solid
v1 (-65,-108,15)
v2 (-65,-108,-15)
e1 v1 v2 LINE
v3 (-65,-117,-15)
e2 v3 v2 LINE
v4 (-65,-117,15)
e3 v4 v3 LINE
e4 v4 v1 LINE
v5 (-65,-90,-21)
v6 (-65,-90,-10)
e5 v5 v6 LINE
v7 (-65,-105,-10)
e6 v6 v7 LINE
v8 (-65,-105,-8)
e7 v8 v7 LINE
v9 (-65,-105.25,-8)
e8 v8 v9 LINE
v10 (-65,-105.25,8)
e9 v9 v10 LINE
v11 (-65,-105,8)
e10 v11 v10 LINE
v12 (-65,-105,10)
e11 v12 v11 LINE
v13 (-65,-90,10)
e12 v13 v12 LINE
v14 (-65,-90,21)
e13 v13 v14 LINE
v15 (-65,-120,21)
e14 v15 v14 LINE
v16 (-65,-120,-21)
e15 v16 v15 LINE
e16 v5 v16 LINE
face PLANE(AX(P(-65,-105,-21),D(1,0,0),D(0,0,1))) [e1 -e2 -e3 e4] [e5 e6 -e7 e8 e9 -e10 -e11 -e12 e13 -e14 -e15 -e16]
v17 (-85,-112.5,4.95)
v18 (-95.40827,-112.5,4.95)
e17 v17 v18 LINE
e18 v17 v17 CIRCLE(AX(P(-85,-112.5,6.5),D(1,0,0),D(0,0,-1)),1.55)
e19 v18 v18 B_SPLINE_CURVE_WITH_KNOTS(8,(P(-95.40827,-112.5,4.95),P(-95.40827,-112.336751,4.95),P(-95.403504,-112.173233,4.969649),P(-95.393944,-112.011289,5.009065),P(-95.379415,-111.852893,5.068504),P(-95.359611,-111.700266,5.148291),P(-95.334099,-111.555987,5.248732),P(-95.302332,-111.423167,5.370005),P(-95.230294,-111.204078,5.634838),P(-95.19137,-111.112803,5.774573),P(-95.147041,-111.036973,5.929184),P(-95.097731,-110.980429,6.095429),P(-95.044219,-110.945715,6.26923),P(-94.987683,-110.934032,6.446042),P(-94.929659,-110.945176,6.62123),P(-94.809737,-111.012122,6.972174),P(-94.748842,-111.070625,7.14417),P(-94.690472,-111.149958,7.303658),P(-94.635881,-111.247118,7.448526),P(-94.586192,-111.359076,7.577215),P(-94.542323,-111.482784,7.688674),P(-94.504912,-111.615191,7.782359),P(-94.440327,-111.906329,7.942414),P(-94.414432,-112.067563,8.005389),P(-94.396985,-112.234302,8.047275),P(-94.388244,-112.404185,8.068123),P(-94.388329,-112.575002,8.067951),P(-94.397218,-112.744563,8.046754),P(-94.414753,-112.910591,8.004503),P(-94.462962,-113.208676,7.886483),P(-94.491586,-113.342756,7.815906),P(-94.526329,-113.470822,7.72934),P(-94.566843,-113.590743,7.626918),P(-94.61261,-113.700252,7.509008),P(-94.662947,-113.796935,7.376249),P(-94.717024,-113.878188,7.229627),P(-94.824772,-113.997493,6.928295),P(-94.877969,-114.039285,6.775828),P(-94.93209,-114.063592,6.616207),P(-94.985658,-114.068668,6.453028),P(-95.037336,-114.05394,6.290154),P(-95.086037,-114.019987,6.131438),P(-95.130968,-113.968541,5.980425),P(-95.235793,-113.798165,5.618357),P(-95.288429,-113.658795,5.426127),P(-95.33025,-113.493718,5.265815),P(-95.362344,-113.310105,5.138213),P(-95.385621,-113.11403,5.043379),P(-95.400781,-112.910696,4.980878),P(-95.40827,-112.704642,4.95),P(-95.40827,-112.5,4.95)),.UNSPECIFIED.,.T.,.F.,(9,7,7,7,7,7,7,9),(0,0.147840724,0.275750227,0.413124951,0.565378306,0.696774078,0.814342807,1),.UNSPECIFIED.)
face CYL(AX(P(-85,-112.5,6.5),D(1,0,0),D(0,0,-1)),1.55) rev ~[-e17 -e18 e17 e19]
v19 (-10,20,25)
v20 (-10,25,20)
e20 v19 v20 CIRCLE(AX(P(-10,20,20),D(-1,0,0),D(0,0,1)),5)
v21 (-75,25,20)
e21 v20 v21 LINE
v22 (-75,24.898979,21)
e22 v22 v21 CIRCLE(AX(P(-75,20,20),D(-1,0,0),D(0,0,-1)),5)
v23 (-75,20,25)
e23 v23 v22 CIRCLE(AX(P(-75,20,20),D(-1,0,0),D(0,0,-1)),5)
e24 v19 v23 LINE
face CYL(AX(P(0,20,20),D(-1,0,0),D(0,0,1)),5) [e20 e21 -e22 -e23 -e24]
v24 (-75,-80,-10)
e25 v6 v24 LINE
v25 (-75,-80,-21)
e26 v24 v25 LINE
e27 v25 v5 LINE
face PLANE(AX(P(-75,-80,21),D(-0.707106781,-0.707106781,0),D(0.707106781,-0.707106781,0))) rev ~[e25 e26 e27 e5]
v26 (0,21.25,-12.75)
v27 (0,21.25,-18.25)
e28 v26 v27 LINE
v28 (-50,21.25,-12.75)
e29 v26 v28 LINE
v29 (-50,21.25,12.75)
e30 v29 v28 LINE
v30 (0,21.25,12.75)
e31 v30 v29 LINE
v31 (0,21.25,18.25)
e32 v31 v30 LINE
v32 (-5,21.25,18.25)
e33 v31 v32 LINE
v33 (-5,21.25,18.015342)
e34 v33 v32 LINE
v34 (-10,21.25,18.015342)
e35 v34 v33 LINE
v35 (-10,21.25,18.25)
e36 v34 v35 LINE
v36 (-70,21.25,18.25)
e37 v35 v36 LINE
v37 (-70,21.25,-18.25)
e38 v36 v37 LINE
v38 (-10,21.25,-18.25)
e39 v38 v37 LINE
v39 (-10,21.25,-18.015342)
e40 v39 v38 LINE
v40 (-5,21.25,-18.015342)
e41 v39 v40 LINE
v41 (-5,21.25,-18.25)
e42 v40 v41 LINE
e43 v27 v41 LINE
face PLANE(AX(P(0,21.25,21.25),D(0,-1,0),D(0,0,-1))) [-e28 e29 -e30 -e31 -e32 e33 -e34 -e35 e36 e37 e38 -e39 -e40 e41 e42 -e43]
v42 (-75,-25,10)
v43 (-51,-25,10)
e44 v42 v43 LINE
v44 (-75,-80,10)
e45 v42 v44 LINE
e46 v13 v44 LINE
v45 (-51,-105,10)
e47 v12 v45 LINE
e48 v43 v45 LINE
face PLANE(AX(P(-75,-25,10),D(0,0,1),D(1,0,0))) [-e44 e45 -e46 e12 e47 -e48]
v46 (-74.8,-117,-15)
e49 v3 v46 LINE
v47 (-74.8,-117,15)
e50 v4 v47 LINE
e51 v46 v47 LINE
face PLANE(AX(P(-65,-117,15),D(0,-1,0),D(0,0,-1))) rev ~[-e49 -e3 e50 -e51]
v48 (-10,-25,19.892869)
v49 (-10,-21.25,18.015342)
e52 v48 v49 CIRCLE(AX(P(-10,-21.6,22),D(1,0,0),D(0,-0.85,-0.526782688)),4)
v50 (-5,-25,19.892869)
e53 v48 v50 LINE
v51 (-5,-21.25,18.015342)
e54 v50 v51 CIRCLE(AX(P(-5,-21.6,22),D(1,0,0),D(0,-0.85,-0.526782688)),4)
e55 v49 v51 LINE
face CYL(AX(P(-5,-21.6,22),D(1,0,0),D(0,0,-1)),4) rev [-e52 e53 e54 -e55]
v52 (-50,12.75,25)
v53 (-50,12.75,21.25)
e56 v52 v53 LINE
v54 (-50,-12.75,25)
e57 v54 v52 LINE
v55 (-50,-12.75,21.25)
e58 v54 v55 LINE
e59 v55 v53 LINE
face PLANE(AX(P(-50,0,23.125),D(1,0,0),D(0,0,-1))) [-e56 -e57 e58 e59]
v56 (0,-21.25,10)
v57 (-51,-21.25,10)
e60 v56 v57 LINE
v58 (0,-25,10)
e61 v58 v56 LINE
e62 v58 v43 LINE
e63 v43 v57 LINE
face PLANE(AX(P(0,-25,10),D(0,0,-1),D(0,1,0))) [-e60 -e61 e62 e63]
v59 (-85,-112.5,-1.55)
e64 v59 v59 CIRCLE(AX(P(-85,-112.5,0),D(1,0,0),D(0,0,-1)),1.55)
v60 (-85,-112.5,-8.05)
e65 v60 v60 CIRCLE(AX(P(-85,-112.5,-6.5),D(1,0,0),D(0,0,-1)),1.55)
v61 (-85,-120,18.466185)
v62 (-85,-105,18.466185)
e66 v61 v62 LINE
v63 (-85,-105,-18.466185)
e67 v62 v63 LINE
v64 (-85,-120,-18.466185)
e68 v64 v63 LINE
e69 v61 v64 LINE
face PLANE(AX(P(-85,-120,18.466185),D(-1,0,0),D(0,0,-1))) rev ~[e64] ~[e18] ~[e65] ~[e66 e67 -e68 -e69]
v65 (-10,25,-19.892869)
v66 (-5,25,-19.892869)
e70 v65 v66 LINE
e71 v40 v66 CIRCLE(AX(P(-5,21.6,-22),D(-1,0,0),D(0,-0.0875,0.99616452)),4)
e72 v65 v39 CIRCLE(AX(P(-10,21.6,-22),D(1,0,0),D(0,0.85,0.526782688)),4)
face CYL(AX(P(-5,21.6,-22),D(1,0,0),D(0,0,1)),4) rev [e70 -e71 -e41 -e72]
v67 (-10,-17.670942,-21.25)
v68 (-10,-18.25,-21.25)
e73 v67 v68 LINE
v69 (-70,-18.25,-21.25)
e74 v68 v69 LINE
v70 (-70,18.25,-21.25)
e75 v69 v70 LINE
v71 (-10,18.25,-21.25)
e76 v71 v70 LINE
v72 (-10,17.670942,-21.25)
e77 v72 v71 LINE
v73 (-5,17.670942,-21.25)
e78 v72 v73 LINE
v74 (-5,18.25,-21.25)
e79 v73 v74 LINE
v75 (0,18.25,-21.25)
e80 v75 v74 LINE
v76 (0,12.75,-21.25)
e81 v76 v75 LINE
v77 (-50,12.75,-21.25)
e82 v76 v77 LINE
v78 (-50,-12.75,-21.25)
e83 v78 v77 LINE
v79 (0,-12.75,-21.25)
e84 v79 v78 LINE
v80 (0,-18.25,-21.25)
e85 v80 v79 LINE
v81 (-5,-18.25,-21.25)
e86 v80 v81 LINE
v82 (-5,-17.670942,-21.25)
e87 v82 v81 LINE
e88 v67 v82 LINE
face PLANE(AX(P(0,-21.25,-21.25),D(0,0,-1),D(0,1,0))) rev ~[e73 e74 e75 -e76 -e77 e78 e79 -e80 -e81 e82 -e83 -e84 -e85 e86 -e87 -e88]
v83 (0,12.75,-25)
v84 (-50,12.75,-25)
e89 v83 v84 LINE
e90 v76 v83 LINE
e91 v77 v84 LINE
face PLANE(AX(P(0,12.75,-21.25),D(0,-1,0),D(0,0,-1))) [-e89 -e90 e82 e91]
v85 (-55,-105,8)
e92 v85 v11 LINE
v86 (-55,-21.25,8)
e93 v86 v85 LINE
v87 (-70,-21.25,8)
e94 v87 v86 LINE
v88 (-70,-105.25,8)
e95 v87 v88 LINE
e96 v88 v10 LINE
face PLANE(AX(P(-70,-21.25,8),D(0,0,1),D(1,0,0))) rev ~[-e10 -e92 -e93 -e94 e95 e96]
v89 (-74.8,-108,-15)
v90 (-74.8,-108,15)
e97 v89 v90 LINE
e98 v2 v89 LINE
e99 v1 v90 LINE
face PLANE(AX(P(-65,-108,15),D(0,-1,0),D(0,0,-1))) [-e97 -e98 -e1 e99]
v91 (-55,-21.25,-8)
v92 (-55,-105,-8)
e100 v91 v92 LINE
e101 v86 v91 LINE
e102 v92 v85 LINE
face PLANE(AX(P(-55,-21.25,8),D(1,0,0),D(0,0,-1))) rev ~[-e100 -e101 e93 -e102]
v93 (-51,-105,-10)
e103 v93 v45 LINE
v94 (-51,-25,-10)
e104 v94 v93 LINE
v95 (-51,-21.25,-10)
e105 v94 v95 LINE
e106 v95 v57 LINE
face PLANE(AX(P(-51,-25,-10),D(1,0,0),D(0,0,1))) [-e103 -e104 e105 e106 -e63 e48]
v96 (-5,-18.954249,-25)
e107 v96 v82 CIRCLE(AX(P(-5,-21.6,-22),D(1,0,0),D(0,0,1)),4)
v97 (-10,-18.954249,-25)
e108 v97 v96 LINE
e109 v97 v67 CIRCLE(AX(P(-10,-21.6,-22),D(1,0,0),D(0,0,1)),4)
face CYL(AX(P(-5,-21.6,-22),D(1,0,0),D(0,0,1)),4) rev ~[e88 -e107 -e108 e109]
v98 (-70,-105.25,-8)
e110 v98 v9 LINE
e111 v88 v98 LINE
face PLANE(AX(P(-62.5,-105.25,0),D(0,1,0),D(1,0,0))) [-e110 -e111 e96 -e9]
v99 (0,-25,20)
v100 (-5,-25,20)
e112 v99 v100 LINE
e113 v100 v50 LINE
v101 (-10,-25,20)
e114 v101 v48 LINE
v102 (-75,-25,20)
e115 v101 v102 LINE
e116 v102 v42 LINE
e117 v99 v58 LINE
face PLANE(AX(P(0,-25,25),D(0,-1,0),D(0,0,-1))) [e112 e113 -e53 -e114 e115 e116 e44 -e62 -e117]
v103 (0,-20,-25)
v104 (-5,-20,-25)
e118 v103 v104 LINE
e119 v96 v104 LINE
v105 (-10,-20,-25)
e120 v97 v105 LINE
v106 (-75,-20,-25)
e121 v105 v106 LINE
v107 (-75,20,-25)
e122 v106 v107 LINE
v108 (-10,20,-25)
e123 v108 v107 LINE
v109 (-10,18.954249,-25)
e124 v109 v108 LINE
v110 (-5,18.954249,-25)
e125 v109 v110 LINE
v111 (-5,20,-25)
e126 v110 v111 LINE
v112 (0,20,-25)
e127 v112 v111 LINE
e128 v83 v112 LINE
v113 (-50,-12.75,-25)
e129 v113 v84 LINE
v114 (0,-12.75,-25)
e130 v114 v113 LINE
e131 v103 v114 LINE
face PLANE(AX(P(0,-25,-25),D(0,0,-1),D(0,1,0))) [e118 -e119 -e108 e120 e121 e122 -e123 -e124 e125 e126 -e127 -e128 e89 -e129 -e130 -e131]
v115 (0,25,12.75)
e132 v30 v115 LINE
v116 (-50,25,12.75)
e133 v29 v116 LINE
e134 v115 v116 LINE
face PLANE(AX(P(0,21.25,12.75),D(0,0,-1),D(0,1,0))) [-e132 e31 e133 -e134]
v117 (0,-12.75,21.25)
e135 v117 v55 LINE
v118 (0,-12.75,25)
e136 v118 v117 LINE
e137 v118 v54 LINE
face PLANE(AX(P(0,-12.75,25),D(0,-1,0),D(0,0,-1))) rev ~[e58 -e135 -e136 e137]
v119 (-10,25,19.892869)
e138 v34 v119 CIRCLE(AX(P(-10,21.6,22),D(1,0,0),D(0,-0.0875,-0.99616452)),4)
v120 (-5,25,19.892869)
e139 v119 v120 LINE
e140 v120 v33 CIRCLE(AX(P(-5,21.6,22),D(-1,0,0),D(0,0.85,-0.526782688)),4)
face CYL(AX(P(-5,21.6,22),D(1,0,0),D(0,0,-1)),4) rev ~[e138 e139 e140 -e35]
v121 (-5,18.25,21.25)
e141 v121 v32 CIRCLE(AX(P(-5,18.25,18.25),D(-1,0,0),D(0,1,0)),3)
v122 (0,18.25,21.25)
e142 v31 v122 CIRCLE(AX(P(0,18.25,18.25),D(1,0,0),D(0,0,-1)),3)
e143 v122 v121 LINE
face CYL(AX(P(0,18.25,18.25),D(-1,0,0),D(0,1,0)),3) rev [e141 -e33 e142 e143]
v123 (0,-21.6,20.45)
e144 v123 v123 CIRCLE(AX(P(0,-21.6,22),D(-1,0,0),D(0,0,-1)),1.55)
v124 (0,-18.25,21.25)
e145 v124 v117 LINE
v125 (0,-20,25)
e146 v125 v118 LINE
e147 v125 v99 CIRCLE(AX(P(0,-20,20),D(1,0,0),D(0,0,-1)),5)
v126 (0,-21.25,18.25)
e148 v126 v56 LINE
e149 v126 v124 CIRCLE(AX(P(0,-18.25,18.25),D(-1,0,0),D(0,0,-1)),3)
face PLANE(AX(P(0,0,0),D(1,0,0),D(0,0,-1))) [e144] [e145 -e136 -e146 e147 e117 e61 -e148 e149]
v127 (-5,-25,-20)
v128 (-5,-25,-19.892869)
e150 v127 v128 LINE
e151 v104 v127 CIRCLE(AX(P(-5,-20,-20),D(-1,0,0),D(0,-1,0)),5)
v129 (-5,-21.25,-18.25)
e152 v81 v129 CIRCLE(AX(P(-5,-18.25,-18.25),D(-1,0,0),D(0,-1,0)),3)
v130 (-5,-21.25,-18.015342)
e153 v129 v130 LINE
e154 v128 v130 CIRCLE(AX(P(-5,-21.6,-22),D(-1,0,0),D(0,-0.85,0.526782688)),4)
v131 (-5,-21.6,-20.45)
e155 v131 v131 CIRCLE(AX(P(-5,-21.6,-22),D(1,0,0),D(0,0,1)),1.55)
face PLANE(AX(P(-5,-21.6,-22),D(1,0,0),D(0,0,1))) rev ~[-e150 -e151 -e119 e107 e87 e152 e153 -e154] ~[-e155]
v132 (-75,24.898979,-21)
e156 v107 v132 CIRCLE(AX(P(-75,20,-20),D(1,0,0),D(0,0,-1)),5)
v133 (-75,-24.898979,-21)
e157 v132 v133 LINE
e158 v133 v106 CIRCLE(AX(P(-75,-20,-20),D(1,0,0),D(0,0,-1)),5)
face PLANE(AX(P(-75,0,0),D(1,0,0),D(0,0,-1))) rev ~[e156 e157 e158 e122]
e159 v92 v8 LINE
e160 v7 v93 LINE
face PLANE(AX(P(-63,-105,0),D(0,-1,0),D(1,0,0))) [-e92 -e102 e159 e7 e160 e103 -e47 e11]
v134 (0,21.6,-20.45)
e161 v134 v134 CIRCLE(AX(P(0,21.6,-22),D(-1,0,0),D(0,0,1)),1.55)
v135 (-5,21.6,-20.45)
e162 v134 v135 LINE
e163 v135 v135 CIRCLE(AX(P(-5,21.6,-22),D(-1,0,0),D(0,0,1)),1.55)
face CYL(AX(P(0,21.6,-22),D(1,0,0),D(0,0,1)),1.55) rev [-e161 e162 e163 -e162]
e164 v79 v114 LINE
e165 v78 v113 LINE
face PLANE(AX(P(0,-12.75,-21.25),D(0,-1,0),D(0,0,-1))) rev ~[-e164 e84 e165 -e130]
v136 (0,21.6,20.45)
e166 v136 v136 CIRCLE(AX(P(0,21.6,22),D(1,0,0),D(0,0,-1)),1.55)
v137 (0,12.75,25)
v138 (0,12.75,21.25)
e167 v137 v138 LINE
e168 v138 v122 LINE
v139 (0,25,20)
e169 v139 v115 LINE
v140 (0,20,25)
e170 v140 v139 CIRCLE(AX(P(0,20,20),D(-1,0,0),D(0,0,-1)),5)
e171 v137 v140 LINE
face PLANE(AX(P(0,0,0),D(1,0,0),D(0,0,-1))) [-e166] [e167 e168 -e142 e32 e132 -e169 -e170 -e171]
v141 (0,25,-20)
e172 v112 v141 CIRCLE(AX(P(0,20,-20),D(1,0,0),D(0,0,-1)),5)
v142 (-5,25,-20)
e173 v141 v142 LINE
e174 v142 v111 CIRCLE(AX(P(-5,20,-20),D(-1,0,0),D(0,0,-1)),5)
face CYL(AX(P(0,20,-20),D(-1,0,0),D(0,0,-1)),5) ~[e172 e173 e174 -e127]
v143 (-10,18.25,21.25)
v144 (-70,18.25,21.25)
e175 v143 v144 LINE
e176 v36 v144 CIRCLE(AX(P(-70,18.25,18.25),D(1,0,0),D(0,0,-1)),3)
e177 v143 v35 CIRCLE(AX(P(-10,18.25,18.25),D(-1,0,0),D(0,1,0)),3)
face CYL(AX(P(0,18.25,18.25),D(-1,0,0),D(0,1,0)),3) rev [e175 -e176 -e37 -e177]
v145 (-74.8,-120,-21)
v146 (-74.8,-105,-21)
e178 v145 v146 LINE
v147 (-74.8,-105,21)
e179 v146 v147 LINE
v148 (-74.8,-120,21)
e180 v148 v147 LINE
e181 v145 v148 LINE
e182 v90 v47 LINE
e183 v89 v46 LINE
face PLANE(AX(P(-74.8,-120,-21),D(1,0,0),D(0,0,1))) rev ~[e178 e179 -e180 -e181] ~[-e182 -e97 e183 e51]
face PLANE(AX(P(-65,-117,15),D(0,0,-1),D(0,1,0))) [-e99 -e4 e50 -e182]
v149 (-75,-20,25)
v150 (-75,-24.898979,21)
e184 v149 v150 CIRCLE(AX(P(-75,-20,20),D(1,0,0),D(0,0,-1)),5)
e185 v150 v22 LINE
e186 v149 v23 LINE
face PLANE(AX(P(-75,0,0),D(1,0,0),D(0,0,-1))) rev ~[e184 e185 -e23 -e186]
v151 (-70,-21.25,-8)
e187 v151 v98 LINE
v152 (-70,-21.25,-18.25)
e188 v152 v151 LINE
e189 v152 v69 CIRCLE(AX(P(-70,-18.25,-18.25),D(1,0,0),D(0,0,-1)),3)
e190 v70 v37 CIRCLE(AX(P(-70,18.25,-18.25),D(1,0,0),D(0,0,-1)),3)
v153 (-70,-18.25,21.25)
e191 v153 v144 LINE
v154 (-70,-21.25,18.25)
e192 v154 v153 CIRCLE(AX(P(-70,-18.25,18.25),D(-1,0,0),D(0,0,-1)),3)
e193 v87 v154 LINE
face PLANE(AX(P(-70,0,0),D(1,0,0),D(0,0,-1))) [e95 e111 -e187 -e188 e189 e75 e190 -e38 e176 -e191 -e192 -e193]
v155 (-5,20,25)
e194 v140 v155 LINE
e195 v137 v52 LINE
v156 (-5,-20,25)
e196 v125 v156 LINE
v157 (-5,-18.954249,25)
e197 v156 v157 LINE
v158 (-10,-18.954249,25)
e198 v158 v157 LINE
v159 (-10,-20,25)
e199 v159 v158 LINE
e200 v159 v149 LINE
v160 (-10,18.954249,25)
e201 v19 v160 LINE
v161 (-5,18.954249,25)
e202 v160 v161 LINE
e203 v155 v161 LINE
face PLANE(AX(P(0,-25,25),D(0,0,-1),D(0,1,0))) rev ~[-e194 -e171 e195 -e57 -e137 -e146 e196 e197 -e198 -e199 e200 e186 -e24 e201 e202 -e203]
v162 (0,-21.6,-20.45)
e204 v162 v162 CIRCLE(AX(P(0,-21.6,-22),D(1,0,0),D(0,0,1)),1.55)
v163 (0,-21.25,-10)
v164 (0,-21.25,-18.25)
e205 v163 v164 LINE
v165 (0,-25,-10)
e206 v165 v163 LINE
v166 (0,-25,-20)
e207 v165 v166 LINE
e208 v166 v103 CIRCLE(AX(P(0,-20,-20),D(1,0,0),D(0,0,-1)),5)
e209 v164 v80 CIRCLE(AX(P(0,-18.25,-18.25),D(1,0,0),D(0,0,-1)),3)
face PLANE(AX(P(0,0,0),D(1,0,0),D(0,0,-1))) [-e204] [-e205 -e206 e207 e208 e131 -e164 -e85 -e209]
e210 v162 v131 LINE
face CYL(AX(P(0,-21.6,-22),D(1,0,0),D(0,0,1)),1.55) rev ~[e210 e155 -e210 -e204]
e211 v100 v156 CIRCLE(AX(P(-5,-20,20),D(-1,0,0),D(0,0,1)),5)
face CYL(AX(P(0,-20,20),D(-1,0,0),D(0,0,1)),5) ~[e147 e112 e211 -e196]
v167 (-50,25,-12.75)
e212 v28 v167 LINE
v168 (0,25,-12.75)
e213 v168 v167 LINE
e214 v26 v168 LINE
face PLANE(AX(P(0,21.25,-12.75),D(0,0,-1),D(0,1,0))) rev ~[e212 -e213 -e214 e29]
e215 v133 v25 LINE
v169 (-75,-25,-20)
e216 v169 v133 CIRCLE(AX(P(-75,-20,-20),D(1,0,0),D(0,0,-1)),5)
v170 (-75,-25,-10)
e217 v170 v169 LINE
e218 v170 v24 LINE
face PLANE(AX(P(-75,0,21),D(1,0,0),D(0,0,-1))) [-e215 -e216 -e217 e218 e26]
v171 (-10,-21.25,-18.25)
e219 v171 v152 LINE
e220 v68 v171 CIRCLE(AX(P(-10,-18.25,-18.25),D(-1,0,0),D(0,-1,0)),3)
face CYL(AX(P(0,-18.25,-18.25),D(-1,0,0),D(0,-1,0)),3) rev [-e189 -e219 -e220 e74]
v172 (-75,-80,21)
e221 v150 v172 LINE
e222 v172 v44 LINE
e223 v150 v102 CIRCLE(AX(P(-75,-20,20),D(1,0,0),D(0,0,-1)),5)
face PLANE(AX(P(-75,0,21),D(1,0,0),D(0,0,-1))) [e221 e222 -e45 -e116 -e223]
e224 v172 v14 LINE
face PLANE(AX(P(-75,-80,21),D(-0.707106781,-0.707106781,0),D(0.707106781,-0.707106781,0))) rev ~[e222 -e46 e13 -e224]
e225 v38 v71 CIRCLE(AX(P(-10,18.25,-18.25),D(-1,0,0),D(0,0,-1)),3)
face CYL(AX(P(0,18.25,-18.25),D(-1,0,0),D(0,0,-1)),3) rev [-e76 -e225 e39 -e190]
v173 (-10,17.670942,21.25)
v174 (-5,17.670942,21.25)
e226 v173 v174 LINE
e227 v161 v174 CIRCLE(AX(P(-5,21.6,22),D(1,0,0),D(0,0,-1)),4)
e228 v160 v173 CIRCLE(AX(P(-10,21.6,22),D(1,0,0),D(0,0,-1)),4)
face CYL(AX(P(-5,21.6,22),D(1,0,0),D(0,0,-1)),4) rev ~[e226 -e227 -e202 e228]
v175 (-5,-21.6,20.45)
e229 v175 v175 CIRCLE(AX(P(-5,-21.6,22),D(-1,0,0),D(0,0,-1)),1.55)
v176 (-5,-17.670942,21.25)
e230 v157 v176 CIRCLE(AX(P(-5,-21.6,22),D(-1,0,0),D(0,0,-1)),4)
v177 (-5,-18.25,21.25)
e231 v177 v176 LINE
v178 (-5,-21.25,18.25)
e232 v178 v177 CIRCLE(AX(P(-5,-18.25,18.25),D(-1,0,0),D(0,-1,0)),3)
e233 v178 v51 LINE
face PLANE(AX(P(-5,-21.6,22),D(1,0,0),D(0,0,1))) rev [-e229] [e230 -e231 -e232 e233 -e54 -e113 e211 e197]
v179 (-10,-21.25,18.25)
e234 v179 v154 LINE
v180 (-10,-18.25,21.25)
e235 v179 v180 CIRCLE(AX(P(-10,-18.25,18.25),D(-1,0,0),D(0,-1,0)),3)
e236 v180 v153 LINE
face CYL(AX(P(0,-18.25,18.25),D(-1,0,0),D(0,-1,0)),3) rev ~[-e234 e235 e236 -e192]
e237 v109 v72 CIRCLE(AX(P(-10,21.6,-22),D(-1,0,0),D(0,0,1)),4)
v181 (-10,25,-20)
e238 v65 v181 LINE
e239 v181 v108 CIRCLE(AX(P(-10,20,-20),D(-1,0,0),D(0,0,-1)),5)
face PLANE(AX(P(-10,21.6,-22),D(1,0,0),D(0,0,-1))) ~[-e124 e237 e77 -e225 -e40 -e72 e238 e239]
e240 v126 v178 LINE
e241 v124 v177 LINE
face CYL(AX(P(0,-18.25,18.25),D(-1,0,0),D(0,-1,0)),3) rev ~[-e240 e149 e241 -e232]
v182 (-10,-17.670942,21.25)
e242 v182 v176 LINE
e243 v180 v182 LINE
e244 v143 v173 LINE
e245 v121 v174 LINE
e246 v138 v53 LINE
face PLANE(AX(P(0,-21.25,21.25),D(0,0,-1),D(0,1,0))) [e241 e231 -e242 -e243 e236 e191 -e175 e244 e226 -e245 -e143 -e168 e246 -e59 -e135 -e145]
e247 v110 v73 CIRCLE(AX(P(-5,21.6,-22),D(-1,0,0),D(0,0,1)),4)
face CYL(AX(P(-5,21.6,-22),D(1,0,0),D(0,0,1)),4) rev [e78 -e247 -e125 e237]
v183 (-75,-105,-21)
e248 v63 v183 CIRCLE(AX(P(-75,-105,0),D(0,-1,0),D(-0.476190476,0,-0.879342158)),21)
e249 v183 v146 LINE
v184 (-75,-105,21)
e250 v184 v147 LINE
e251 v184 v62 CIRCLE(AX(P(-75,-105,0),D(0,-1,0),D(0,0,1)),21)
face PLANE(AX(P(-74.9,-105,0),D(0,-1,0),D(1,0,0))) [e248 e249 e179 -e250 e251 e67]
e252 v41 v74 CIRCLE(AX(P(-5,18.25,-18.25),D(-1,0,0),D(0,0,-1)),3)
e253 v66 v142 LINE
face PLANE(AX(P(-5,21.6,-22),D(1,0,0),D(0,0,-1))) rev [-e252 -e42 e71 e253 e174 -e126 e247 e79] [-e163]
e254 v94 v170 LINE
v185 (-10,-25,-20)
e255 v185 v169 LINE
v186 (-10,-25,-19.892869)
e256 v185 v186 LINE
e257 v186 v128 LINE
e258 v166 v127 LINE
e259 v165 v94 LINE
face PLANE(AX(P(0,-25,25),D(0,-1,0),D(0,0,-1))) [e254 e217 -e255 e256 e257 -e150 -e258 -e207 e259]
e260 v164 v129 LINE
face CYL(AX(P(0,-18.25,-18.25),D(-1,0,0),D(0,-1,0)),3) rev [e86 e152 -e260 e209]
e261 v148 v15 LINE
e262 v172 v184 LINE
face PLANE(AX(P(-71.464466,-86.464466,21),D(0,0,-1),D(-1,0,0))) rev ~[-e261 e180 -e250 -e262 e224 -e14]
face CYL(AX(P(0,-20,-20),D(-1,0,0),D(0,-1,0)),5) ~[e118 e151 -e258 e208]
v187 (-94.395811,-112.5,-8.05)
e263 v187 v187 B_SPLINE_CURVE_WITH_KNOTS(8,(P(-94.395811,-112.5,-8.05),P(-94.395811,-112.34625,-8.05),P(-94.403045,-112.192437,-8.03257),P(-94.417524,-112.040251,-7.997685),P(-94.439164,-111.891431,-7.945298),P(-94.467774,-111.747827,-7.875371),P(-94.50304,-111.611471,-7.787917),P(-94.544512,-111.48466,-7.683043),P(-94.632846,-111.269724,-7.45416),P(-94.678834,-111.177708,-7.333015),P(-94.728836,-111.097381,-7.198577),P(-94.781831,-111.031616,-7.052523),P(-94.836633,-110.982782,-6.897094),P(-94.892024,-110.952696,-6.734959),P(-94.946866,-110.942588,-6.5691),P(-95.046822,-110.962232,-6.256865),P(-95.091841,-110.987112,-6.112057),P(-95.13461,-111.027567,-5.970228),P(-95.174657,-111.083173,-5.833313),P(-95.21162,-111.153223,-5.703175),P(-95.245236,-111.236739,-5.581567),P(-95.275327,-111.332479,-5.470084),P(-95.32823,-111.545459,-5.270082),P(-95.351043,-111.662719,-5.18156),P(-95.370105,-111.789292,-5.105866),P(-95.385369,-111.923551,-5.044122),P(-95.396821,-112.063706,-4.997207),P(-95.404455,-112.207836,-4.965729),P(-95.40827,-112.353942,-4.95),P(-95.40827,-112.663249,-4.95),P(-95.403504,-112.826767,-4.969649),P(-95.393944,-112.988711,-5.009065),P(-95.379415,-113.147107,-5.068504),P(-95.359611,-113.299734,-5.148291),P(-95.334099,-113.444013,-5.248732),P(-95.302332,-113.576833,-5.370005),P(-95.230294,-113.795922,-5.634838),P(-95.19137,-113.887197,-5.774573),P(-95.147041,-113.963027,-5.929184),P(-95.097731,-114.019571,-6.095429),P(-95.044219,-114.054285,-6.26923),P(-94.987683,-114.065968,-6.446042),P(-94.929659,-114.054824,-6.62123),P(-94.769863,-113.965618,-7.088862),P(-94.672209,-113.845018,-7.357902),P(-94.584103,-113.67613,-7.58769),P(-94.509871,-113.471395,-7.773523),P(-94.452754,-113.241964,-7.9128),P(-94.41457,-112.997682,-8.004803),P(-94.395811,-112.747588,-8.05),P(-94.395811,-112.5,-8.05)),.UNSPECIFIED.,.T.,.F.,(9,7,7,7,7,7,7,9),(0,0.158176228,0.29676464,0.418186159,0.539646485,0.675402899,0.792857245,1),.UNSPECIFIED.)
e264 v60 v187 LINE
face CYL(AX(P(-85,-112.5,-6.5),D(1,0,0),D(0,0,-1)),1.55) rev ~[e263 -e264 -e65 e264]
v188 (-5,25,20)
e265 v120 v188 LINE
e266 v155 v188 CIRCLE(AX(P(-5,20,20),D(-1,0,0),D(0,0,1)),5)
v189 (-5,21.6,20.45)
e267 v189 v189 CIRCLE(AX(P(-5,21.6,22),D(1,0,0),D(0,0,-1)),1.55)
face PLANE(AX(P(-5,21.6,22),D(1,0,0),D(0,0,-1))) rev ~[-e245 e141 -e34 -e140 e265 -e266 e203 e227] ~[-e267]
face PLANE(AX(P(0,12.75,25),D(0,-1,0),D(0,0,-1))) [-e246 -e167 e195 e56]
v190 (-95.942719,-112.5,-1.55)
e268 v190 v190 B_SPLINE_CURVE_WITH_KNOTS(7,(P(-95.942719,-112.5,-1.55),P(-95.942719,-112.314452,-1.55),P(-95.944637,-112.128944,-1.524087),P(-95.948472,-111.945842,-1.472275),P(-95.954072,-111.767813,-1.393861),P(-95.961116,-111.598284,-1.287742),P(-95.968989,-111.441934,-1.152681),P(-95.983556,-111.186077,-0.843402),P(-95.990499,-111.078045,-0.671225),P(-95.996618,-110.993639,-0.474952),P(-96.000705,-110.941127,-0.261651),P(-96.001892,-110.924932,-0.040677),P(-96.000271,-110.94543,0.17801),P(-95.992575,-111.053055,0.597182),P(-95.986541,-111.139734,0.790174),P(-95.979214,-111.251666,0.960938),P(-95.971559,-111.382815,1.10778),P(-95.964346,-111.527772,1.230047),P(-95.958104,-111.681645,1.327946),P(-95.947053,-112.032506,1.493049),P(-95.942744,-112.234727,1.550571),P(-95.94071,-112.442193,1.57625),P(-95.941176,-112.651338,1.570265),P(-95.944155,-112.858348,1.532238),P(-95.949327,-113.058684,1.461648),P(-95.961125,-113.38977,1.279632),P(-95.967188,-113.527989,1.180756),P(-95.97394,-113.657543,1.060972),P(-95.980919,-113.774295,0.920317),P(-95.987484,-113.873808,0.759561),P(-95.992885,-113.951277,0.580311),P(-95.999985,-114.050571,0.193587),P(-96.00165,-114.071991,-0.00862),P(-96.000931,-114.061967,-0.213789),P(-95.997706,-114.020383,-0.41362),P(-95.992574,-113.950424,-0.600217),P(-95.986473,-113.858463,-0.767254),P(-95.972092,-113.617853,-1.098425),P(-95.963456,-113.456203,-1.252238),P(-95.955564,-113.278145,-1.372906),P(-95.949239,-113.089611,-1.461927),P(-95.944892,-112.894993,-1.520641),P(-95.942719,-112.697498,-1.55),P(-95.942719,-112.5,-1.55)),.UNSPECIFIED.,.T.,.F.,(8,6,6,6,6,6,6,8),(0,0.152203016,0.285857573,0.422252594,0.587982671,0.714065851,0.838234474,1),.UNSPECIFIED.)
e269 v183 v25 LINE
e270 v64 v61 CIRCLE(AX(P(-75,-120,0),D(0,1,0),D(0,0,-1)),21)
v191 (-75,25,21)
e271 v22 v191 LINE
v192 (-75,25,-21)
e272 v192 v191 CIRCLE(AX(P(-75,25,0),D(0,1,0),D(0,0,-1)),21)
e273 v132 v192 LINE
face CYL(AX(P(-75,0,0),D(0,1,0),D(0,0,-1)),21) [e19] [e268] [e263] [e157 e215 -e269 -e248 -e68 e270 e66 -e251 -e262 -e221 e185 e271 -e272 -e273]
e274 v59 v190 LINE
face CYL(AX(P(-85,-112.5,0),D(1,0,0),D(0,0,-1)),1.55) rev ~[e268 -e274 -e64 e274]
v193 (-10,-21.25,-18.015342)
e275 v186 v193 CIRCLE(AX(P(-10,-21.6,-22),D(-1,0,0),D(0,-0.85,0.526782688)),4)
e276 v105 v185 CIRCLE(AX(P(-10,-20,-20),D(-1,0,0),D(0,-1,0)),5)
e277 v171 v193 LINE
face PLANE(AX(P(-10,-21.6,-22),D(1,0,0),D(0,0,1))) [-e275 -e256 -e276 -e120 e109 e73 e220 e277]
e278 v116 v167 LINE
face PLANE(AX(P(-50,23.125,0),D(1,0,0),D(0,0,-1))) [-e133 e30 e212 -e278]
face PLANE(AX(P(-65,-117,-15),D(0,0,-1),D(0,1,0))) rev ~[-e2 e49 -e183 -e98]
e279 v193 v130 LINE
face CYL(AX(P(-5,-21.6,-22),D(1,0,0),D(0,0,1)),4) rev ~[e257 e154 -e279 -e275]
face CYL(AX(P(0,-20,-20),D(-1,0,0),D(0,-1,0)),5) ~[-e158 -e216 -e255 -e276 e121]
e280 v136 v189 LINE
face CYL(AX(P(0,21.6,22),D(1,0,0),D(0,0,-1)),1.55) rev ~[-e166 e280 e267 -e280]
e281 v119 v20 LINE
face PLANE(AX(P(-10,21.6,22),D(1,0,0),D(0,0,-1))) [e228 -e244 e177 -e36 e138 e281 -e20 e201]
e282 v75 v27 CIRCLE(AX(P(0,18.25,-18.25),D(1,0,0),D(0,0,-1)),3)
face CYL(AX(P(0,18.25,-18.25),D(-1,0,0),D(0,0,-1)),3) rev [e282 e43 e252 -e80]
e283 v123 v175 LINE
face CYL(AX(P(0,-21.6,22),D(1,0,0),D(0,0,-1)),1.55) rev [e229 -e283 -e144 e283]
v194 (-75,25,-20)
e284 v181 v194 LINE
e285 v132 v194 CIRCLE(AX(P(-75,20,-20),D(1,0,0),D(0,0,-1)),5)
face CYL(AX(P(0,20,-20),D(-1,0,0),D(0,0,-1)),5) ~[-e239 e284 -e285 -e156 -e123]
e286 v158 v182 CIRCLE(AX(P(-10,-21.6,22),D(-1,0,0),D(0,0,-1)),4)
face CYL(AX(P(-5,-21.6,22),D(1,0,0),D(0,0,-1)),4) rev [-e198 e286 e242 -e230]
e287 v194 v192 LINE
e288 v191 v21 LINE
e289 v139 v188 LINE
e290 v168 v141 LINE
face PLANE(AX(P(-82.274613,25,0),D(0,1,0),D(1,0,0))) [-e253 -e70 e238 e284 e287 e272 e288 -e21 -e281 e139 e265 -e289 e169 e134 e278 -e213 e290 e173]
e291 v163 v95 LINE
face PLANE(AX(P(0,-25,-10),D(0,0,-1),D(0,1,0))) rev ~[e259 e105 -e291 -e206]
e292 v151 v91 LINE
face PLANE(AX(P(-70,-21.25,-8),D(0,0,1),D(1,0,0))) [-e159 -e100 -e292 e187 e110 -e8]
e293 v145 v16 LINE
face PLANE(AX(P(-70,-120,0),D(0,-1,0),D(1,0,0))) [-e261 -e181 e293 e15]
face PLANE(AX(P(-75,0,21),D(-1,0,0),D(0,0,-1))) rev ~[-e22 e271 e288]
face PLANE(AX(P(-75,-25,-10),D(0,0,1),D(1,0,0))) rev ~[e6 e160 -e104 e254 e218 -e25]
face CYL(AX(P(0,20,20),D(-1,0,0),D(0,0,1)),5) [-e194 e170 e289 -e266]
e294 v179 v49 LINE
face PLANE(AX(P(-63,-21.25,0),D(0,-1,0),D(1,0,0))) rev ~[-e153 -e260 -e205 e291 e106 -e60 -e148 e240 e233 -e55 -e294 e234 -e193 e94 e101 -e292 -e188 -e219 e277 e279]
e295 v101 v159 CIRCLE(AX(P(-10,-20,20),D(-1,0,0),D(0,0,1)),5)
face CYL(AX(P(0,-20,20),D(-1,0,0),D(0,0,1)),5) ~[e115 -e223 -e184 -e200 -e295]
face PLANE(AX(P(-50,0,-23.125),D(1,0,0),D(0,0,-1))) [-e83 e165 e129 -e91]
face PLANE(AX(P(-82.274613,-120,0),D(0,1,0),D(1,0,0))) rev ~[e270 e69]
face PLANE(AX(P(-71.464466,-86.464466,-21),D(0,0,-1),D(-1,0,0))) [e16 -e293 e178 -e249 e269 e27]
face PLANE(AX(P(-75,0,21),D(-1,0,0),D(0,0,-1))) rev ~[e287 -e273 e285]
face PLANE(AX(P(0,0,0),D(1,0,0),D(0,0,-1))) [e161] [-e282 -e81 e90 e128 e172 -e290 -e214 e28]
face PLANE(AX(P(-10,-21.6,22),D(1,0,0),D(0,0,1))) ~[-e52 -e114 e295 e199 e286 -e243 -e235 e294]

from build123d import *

# Parameters (mm, degrees)
SKETCH1_W                = 50
SKETCH1_H                = 50
BOSS_EXTRUDE1_DEPTH      = 75
FILLET1_R                = 5
SKETCH2_W                = 42.5
SKETCH2_H                = 42.5
CUT_EXTRUDE1_DEPTH       = 70
FILLET2_R                = 3
SKETCH3_W                = 25.5
SKETCH3_H                = 3.75
SKETCH3_W_2              = 3.75
SKETCH3_H_2              = 25.5
CUT_EXTRUDE2_DEPTH       = 50
SKETCH4_W                = 20
SKETCH4_H                = 3.75
CUT_EXTRUDE3_DEPTH       = 70
SKETCH8_R                = 1.55
CUT_EXTRUDE5_DEPTH       = 5
SKETCH9_R                = 4
CUT_EXTRUDE6_DEPTH       = 5
MIRROR2_COPY_1_SKETCH_R  = 1.55
MIRROR2_COPY_1_DEPTH     = 5
MIRROR2_COPY_2_SKETCH_R  = 4
MIRROR2_COPY_2_DEPTH     = 5
BOSS_EXTRUDE2_DEPTH      = 25
BOSS_EXTRUDE2_DEPTH_BACK = 120
CUT_EXTRUDE8_DEPTH       = 15
SKETCH12_R               = 1.55
CUT_EXTRUDE9_DEPTH       = 15
SKETCH13_W               = 10
SKETCH13_H               = 42
BOSS_EXTRUDE3_DEPTH      = 15
BOSS_EXTRUDE3_DEPTH_BACK = 15
BOSS_EXTRUDE4_DEPTH      = 42
SKETCH16_W               = 30
SKETCH16_H               = 9
CUT_EXTRUDE10_DEPTH      = 10
SKETCH17_W               = 0.2
SKETCH17_H               = 42
CUT_EXTRUDE11_DEPTH      = 15
SKETCH18_W               = 24
SKETCH18_H               = 20
BOSS_EXTRUDE7_DEPTH      = 80
BOSS_EXTRUDE7_DEPTH_BACK = 3.75
SKETCH19_W               = 15
SKETCH19_H               = 16
CUT_EXTRUDE12_DEPTH      = 84


with BuildPart() as part:
    # Sketch1 → Boss-Extrude1 (new body)
    with BuildSketch(Plane(origin=(0, 0, 0), x_dir=(0, 0, -1), z_dir=(1, 0, 0))):
        Rectangle(SKETCH1_W, SKETCH1_H)
    extrude(amount=-BOSS_EXTRUDE1_DEPTH)

    # Fillet1
    fillet1_edges = [part.edges().sort_by_distance(p)[0] for p in [
        (-37.5, -25, -25),
        (-37.5, -25, 25),
        (-37.5, 25, 25),
        (-37.5, 25, -25),
    ]]
    fillet(fillet1_edges, radius=FILLET1_R)

    # Sketch2 → Cut-Extrude1 (cut)
    with BuildSketch(Plane(origin=(0, 0, 0), x_dir=(0, 0, -1), z_dir=(1, 0, 0))):
        Rectangle(SKETCH2_W, SKETCH2_H)
    extrude(amount=-CUT_EXTRUDE1_DEPTH, mode=Mode.SUBTRACT)

    # Fillet2
    fillet2_edges = [part.edges().sort_by_distance(p)[0] for p in [
        (-35, 21.25, -21.25),
        (-35, -21.25, -21.25),
        (-35, -21.25, 21.25),
        (-35, 21.25, 21.25),
    ]]
    fillet(fillet2_edges, radius=FILLET2_R)

    # Sketch3 → Cut-Extrude2 (cut)
    with BuildSketch(Plane(origin=(0, 0, 0), x_dir=(0, 0, -1), z_dir=(1, 0, 0))):
        with Locations((0, 23.125)):
            Rectangle(SKETCH3_W, SKETCH3_H)
        with Locations((-23.125, 0)):
            Rectangle(SKETCH3_W_2, SKETCH3_H_2)
        with Locations((23.125, 0)):
            Rectangle(SKETCH3_W_2, SKETCH3_H_2)
    extrude(amount=-CUT_EXTRUDE2_DEPTH, mode=Mode.SUBTRACT)

    # Sketch4 → Cut-Extrude3 (cut)
    with BuildSketch(Plane(origin=(0, 0, 0), x_dir=(0, 0, -1), z_dir=(1, 0, 0))):
        with Locations((0, -23.125)):
            Rectangle(SKETCH4_W, SKETCH4_H)
    extrude(amount=-CUT_EXTRUDE3_DEPTH, mode=Mode.SUBTRACT)

    # Sketch8 → Cut-Extrude5 (cut)
    with BuildSketch(Plane(origin=(0, 0, 0), x_dir=(0, 0, -1), z_dir=(1, 0, 0))):
        with Locations((-22, 21.6)):
            Circle(SKETCH8_R)
    cut_extrude5 = extrude(amount=-CUT_EXTRUDE5_DEPTH, mode=Mode.SUBTRACT)

    # Sketch9 → Cut-Extrude6 (cut)
    with BuildSketch(Plane(origin=(-5, 0, 0), x_dir=(0, 0, -1), z_dir=(1, 0, 0))):
        with Locations((-22, 21.6)):
            Circle(SKETCH9_R)
    cut_extrude6 = extrude(amount=-CUT_EXTRUDE6_DEPTH, mode=Mode.SUBTRACT)

    # Mirror1: Cut-Extrude5, Cut-Extrude6 across plane
    add(cut_extrude5.mirror(Plane.ZX), mode=Mode.SUBTRACT)
    add(cut_extrude6.mirror(Plane.ZX), mode=Mode.SUBTRACT)

    # Mirror2: Cut-Extrude5, Cut-Extrude6 across plane
    add(cut_extrude5.mirror(Plane.XY), mode=Mode.SUBTRACT)
    add(cut_extrude6.mirror(Plane.XY), mode=Mode.SUBTRACT)

    # Mirror2 copy 1 sketch → Mirror2 copy 1 (cut)
    with BuildSketch(Plane(origin=(0, 0, 0), x_dir=(0, 0, 1), z_dir=(1, 0, 0))):
        with Locations((-22, 21.6)):
            Circle(MIRROR2_COPY_1_SKETCH_R)
    extrude(amount=-MIRROR2_COPY_1_DEPTH, mode=Mode.SUBTRACT)

    # Mirror2 copy 2 sketch → Mirror2 copy 2 (cut)
    with BuildSketch(Plane(origin=(-5, 0, 0), x_dir=(0, 0, 1), z_dir=(1, 0, 0))):
        with Locations((-22, 21.6)):
            Circle(MIRROR2_COPY_2_SKETCH_R)
    extrude(amount=-MIRROR2_COPY_2_DEPTH, mode=Mode.SUBTRACT)

    # Sketch10 → Boss-Extrude2 (add, two sides)
    with BuildSketch(Plane(origin=(0, 0, 0), x_dir=(1, 0, 0), z_dir=(0, 1, 0))) as boss_extrude2_sk:
        with BuildLine():
            Line((-75, -21), (-75, 21))
            ThreePointArc((-75, 21), (-96, 0), (-75, -21))
        make_face()
    extrude(amount=BOSS_EXTRUDE2_DEPTH)
    extrude(boss_extrude2_sk.sketch, amount=-BOSS_EXTRUDE2_DEPTH_BACK)

    # Sketch11 → Cut-Extrude8 (cut)
    with BuildSketch(Plane.XZ.offset(120)):
        with BuildLine():
            Line((-85, 18.466185313), (-85, -18.466185313))
            ThreePointArc((-85, -18.466185313), (-80.158008745, -20.356692899), (-75, -21))
            Line((-75, -21), (-75, 21))
            ThreePointArc((-75, 21), (-80.158008745, 20.356692899), (-85, 18.466185313))
        make_face()
    extrude(amount=-CUT_EXTRUDE8_DEPTH, mode=Mode.SUBTRACT)

    # Sketch12 → Cut-Extrude9 (cut)
    with BuildSketch(Plane(origin=(-85, 0, 0), x_dir=(0, 0, -1), z_dir=(1, 0, 0))):
        with Locations((0, -112.5)):
            Circle(SKETCH12_R)
        with Locations((-6.5, -112.5)):
            Circle(SKETCH12_R)
        with Locations((6.5, -112.5)):
            Circle(SKETCH12_R)
    extrude(amount=-CUT_EXTRUDE9_DEPTH, mode=Mode.SUBTRACT)



with BuildPart() as body_2:
    # Sketch13 → Boss-Extrude3 (new body, two sides)
    with BuildSketch(Plane.XZ.offset(105)) as boss_extrude3_sk:
        with Locations((-70, 0)):
            Rectangle(SKETCH13_W, SKETCH13_H)
    extrude(amount=BOSS_EXTRUDE3_DEPTH)
    extrude(boss_extrude3_sk.sketch, amount=-BOSS_EXTRUDE3_DEPTH_BACK)


with BuildPart() as part_1:
    add(part.part)

    add(body_2.part)  # Boss-Extrude4 merges body 2
    # Sketch15 → Boss-Extrude4 (add)
    with BuildSketch(Plane.XY.offset(21)):
        Polygon((-65, -90), (-75, -90), (-75, -80), align=None)
    extrude(amount=-BOSS_EXTRUDE4_DEPTH)

    # Sketch16 → Cut-Extrude10 (cut)
    with BuildSketch(Plane(origin=(-65, 0, 0), x_dir=(0, 0, -1), z_dir=(1, 0, 0))):
        with Locations((0, -112.5)):
            Rectangle(SKETCH16_W, SKETCH16_H)
    extrude(amount=-CUT_EXTRUDE10_DEPTH, mode=Mode.SUBTRACT)

    # Sketch17 → Cut-Extrude11 (cut)
    with BuildSketch(Plane.XZ.offset(120)):
        with Locations((-74.9, 0)):
            Rectangle(SKETCH17_W, SKETCH17_H)
    extrude(amount=-CUT_EXTRUDE11_DEPTH, mode=Mode.SUBTRACT)

    # Sketch18 → Boss-Extrude7 (add, two sides)
    with BuildSketch(Plane.XZ.offset(25)) as boss_extrude7_sk:
        with Locations((-63, 0)):
            Rectangle(SKETCH18_W, SKETCH18_H)
    extrude(amount=BOSS_EXTRUDE7_DEPTH)
    extrude(boss_extrude7_sk.sketch, amount=-BOSS_EXTRUDE7_DEPTH_BACK)

    # Sketch19 → Cut-Extrude12 (cut)
    with BuildSketch(Plane(origin=(0, -21.25, 0), x_dir=(1, 0, 0), z_dir=(0, 1, 0))):
        with Locations((-62.5, 0)):
            Rectangle(SKETCH19_W, SKETCH19_H)
    extrude(amount=-CUT_EXTRUDE12_DEPTH, mode=Mode.SUBTRACT)


solid = part_1.part
